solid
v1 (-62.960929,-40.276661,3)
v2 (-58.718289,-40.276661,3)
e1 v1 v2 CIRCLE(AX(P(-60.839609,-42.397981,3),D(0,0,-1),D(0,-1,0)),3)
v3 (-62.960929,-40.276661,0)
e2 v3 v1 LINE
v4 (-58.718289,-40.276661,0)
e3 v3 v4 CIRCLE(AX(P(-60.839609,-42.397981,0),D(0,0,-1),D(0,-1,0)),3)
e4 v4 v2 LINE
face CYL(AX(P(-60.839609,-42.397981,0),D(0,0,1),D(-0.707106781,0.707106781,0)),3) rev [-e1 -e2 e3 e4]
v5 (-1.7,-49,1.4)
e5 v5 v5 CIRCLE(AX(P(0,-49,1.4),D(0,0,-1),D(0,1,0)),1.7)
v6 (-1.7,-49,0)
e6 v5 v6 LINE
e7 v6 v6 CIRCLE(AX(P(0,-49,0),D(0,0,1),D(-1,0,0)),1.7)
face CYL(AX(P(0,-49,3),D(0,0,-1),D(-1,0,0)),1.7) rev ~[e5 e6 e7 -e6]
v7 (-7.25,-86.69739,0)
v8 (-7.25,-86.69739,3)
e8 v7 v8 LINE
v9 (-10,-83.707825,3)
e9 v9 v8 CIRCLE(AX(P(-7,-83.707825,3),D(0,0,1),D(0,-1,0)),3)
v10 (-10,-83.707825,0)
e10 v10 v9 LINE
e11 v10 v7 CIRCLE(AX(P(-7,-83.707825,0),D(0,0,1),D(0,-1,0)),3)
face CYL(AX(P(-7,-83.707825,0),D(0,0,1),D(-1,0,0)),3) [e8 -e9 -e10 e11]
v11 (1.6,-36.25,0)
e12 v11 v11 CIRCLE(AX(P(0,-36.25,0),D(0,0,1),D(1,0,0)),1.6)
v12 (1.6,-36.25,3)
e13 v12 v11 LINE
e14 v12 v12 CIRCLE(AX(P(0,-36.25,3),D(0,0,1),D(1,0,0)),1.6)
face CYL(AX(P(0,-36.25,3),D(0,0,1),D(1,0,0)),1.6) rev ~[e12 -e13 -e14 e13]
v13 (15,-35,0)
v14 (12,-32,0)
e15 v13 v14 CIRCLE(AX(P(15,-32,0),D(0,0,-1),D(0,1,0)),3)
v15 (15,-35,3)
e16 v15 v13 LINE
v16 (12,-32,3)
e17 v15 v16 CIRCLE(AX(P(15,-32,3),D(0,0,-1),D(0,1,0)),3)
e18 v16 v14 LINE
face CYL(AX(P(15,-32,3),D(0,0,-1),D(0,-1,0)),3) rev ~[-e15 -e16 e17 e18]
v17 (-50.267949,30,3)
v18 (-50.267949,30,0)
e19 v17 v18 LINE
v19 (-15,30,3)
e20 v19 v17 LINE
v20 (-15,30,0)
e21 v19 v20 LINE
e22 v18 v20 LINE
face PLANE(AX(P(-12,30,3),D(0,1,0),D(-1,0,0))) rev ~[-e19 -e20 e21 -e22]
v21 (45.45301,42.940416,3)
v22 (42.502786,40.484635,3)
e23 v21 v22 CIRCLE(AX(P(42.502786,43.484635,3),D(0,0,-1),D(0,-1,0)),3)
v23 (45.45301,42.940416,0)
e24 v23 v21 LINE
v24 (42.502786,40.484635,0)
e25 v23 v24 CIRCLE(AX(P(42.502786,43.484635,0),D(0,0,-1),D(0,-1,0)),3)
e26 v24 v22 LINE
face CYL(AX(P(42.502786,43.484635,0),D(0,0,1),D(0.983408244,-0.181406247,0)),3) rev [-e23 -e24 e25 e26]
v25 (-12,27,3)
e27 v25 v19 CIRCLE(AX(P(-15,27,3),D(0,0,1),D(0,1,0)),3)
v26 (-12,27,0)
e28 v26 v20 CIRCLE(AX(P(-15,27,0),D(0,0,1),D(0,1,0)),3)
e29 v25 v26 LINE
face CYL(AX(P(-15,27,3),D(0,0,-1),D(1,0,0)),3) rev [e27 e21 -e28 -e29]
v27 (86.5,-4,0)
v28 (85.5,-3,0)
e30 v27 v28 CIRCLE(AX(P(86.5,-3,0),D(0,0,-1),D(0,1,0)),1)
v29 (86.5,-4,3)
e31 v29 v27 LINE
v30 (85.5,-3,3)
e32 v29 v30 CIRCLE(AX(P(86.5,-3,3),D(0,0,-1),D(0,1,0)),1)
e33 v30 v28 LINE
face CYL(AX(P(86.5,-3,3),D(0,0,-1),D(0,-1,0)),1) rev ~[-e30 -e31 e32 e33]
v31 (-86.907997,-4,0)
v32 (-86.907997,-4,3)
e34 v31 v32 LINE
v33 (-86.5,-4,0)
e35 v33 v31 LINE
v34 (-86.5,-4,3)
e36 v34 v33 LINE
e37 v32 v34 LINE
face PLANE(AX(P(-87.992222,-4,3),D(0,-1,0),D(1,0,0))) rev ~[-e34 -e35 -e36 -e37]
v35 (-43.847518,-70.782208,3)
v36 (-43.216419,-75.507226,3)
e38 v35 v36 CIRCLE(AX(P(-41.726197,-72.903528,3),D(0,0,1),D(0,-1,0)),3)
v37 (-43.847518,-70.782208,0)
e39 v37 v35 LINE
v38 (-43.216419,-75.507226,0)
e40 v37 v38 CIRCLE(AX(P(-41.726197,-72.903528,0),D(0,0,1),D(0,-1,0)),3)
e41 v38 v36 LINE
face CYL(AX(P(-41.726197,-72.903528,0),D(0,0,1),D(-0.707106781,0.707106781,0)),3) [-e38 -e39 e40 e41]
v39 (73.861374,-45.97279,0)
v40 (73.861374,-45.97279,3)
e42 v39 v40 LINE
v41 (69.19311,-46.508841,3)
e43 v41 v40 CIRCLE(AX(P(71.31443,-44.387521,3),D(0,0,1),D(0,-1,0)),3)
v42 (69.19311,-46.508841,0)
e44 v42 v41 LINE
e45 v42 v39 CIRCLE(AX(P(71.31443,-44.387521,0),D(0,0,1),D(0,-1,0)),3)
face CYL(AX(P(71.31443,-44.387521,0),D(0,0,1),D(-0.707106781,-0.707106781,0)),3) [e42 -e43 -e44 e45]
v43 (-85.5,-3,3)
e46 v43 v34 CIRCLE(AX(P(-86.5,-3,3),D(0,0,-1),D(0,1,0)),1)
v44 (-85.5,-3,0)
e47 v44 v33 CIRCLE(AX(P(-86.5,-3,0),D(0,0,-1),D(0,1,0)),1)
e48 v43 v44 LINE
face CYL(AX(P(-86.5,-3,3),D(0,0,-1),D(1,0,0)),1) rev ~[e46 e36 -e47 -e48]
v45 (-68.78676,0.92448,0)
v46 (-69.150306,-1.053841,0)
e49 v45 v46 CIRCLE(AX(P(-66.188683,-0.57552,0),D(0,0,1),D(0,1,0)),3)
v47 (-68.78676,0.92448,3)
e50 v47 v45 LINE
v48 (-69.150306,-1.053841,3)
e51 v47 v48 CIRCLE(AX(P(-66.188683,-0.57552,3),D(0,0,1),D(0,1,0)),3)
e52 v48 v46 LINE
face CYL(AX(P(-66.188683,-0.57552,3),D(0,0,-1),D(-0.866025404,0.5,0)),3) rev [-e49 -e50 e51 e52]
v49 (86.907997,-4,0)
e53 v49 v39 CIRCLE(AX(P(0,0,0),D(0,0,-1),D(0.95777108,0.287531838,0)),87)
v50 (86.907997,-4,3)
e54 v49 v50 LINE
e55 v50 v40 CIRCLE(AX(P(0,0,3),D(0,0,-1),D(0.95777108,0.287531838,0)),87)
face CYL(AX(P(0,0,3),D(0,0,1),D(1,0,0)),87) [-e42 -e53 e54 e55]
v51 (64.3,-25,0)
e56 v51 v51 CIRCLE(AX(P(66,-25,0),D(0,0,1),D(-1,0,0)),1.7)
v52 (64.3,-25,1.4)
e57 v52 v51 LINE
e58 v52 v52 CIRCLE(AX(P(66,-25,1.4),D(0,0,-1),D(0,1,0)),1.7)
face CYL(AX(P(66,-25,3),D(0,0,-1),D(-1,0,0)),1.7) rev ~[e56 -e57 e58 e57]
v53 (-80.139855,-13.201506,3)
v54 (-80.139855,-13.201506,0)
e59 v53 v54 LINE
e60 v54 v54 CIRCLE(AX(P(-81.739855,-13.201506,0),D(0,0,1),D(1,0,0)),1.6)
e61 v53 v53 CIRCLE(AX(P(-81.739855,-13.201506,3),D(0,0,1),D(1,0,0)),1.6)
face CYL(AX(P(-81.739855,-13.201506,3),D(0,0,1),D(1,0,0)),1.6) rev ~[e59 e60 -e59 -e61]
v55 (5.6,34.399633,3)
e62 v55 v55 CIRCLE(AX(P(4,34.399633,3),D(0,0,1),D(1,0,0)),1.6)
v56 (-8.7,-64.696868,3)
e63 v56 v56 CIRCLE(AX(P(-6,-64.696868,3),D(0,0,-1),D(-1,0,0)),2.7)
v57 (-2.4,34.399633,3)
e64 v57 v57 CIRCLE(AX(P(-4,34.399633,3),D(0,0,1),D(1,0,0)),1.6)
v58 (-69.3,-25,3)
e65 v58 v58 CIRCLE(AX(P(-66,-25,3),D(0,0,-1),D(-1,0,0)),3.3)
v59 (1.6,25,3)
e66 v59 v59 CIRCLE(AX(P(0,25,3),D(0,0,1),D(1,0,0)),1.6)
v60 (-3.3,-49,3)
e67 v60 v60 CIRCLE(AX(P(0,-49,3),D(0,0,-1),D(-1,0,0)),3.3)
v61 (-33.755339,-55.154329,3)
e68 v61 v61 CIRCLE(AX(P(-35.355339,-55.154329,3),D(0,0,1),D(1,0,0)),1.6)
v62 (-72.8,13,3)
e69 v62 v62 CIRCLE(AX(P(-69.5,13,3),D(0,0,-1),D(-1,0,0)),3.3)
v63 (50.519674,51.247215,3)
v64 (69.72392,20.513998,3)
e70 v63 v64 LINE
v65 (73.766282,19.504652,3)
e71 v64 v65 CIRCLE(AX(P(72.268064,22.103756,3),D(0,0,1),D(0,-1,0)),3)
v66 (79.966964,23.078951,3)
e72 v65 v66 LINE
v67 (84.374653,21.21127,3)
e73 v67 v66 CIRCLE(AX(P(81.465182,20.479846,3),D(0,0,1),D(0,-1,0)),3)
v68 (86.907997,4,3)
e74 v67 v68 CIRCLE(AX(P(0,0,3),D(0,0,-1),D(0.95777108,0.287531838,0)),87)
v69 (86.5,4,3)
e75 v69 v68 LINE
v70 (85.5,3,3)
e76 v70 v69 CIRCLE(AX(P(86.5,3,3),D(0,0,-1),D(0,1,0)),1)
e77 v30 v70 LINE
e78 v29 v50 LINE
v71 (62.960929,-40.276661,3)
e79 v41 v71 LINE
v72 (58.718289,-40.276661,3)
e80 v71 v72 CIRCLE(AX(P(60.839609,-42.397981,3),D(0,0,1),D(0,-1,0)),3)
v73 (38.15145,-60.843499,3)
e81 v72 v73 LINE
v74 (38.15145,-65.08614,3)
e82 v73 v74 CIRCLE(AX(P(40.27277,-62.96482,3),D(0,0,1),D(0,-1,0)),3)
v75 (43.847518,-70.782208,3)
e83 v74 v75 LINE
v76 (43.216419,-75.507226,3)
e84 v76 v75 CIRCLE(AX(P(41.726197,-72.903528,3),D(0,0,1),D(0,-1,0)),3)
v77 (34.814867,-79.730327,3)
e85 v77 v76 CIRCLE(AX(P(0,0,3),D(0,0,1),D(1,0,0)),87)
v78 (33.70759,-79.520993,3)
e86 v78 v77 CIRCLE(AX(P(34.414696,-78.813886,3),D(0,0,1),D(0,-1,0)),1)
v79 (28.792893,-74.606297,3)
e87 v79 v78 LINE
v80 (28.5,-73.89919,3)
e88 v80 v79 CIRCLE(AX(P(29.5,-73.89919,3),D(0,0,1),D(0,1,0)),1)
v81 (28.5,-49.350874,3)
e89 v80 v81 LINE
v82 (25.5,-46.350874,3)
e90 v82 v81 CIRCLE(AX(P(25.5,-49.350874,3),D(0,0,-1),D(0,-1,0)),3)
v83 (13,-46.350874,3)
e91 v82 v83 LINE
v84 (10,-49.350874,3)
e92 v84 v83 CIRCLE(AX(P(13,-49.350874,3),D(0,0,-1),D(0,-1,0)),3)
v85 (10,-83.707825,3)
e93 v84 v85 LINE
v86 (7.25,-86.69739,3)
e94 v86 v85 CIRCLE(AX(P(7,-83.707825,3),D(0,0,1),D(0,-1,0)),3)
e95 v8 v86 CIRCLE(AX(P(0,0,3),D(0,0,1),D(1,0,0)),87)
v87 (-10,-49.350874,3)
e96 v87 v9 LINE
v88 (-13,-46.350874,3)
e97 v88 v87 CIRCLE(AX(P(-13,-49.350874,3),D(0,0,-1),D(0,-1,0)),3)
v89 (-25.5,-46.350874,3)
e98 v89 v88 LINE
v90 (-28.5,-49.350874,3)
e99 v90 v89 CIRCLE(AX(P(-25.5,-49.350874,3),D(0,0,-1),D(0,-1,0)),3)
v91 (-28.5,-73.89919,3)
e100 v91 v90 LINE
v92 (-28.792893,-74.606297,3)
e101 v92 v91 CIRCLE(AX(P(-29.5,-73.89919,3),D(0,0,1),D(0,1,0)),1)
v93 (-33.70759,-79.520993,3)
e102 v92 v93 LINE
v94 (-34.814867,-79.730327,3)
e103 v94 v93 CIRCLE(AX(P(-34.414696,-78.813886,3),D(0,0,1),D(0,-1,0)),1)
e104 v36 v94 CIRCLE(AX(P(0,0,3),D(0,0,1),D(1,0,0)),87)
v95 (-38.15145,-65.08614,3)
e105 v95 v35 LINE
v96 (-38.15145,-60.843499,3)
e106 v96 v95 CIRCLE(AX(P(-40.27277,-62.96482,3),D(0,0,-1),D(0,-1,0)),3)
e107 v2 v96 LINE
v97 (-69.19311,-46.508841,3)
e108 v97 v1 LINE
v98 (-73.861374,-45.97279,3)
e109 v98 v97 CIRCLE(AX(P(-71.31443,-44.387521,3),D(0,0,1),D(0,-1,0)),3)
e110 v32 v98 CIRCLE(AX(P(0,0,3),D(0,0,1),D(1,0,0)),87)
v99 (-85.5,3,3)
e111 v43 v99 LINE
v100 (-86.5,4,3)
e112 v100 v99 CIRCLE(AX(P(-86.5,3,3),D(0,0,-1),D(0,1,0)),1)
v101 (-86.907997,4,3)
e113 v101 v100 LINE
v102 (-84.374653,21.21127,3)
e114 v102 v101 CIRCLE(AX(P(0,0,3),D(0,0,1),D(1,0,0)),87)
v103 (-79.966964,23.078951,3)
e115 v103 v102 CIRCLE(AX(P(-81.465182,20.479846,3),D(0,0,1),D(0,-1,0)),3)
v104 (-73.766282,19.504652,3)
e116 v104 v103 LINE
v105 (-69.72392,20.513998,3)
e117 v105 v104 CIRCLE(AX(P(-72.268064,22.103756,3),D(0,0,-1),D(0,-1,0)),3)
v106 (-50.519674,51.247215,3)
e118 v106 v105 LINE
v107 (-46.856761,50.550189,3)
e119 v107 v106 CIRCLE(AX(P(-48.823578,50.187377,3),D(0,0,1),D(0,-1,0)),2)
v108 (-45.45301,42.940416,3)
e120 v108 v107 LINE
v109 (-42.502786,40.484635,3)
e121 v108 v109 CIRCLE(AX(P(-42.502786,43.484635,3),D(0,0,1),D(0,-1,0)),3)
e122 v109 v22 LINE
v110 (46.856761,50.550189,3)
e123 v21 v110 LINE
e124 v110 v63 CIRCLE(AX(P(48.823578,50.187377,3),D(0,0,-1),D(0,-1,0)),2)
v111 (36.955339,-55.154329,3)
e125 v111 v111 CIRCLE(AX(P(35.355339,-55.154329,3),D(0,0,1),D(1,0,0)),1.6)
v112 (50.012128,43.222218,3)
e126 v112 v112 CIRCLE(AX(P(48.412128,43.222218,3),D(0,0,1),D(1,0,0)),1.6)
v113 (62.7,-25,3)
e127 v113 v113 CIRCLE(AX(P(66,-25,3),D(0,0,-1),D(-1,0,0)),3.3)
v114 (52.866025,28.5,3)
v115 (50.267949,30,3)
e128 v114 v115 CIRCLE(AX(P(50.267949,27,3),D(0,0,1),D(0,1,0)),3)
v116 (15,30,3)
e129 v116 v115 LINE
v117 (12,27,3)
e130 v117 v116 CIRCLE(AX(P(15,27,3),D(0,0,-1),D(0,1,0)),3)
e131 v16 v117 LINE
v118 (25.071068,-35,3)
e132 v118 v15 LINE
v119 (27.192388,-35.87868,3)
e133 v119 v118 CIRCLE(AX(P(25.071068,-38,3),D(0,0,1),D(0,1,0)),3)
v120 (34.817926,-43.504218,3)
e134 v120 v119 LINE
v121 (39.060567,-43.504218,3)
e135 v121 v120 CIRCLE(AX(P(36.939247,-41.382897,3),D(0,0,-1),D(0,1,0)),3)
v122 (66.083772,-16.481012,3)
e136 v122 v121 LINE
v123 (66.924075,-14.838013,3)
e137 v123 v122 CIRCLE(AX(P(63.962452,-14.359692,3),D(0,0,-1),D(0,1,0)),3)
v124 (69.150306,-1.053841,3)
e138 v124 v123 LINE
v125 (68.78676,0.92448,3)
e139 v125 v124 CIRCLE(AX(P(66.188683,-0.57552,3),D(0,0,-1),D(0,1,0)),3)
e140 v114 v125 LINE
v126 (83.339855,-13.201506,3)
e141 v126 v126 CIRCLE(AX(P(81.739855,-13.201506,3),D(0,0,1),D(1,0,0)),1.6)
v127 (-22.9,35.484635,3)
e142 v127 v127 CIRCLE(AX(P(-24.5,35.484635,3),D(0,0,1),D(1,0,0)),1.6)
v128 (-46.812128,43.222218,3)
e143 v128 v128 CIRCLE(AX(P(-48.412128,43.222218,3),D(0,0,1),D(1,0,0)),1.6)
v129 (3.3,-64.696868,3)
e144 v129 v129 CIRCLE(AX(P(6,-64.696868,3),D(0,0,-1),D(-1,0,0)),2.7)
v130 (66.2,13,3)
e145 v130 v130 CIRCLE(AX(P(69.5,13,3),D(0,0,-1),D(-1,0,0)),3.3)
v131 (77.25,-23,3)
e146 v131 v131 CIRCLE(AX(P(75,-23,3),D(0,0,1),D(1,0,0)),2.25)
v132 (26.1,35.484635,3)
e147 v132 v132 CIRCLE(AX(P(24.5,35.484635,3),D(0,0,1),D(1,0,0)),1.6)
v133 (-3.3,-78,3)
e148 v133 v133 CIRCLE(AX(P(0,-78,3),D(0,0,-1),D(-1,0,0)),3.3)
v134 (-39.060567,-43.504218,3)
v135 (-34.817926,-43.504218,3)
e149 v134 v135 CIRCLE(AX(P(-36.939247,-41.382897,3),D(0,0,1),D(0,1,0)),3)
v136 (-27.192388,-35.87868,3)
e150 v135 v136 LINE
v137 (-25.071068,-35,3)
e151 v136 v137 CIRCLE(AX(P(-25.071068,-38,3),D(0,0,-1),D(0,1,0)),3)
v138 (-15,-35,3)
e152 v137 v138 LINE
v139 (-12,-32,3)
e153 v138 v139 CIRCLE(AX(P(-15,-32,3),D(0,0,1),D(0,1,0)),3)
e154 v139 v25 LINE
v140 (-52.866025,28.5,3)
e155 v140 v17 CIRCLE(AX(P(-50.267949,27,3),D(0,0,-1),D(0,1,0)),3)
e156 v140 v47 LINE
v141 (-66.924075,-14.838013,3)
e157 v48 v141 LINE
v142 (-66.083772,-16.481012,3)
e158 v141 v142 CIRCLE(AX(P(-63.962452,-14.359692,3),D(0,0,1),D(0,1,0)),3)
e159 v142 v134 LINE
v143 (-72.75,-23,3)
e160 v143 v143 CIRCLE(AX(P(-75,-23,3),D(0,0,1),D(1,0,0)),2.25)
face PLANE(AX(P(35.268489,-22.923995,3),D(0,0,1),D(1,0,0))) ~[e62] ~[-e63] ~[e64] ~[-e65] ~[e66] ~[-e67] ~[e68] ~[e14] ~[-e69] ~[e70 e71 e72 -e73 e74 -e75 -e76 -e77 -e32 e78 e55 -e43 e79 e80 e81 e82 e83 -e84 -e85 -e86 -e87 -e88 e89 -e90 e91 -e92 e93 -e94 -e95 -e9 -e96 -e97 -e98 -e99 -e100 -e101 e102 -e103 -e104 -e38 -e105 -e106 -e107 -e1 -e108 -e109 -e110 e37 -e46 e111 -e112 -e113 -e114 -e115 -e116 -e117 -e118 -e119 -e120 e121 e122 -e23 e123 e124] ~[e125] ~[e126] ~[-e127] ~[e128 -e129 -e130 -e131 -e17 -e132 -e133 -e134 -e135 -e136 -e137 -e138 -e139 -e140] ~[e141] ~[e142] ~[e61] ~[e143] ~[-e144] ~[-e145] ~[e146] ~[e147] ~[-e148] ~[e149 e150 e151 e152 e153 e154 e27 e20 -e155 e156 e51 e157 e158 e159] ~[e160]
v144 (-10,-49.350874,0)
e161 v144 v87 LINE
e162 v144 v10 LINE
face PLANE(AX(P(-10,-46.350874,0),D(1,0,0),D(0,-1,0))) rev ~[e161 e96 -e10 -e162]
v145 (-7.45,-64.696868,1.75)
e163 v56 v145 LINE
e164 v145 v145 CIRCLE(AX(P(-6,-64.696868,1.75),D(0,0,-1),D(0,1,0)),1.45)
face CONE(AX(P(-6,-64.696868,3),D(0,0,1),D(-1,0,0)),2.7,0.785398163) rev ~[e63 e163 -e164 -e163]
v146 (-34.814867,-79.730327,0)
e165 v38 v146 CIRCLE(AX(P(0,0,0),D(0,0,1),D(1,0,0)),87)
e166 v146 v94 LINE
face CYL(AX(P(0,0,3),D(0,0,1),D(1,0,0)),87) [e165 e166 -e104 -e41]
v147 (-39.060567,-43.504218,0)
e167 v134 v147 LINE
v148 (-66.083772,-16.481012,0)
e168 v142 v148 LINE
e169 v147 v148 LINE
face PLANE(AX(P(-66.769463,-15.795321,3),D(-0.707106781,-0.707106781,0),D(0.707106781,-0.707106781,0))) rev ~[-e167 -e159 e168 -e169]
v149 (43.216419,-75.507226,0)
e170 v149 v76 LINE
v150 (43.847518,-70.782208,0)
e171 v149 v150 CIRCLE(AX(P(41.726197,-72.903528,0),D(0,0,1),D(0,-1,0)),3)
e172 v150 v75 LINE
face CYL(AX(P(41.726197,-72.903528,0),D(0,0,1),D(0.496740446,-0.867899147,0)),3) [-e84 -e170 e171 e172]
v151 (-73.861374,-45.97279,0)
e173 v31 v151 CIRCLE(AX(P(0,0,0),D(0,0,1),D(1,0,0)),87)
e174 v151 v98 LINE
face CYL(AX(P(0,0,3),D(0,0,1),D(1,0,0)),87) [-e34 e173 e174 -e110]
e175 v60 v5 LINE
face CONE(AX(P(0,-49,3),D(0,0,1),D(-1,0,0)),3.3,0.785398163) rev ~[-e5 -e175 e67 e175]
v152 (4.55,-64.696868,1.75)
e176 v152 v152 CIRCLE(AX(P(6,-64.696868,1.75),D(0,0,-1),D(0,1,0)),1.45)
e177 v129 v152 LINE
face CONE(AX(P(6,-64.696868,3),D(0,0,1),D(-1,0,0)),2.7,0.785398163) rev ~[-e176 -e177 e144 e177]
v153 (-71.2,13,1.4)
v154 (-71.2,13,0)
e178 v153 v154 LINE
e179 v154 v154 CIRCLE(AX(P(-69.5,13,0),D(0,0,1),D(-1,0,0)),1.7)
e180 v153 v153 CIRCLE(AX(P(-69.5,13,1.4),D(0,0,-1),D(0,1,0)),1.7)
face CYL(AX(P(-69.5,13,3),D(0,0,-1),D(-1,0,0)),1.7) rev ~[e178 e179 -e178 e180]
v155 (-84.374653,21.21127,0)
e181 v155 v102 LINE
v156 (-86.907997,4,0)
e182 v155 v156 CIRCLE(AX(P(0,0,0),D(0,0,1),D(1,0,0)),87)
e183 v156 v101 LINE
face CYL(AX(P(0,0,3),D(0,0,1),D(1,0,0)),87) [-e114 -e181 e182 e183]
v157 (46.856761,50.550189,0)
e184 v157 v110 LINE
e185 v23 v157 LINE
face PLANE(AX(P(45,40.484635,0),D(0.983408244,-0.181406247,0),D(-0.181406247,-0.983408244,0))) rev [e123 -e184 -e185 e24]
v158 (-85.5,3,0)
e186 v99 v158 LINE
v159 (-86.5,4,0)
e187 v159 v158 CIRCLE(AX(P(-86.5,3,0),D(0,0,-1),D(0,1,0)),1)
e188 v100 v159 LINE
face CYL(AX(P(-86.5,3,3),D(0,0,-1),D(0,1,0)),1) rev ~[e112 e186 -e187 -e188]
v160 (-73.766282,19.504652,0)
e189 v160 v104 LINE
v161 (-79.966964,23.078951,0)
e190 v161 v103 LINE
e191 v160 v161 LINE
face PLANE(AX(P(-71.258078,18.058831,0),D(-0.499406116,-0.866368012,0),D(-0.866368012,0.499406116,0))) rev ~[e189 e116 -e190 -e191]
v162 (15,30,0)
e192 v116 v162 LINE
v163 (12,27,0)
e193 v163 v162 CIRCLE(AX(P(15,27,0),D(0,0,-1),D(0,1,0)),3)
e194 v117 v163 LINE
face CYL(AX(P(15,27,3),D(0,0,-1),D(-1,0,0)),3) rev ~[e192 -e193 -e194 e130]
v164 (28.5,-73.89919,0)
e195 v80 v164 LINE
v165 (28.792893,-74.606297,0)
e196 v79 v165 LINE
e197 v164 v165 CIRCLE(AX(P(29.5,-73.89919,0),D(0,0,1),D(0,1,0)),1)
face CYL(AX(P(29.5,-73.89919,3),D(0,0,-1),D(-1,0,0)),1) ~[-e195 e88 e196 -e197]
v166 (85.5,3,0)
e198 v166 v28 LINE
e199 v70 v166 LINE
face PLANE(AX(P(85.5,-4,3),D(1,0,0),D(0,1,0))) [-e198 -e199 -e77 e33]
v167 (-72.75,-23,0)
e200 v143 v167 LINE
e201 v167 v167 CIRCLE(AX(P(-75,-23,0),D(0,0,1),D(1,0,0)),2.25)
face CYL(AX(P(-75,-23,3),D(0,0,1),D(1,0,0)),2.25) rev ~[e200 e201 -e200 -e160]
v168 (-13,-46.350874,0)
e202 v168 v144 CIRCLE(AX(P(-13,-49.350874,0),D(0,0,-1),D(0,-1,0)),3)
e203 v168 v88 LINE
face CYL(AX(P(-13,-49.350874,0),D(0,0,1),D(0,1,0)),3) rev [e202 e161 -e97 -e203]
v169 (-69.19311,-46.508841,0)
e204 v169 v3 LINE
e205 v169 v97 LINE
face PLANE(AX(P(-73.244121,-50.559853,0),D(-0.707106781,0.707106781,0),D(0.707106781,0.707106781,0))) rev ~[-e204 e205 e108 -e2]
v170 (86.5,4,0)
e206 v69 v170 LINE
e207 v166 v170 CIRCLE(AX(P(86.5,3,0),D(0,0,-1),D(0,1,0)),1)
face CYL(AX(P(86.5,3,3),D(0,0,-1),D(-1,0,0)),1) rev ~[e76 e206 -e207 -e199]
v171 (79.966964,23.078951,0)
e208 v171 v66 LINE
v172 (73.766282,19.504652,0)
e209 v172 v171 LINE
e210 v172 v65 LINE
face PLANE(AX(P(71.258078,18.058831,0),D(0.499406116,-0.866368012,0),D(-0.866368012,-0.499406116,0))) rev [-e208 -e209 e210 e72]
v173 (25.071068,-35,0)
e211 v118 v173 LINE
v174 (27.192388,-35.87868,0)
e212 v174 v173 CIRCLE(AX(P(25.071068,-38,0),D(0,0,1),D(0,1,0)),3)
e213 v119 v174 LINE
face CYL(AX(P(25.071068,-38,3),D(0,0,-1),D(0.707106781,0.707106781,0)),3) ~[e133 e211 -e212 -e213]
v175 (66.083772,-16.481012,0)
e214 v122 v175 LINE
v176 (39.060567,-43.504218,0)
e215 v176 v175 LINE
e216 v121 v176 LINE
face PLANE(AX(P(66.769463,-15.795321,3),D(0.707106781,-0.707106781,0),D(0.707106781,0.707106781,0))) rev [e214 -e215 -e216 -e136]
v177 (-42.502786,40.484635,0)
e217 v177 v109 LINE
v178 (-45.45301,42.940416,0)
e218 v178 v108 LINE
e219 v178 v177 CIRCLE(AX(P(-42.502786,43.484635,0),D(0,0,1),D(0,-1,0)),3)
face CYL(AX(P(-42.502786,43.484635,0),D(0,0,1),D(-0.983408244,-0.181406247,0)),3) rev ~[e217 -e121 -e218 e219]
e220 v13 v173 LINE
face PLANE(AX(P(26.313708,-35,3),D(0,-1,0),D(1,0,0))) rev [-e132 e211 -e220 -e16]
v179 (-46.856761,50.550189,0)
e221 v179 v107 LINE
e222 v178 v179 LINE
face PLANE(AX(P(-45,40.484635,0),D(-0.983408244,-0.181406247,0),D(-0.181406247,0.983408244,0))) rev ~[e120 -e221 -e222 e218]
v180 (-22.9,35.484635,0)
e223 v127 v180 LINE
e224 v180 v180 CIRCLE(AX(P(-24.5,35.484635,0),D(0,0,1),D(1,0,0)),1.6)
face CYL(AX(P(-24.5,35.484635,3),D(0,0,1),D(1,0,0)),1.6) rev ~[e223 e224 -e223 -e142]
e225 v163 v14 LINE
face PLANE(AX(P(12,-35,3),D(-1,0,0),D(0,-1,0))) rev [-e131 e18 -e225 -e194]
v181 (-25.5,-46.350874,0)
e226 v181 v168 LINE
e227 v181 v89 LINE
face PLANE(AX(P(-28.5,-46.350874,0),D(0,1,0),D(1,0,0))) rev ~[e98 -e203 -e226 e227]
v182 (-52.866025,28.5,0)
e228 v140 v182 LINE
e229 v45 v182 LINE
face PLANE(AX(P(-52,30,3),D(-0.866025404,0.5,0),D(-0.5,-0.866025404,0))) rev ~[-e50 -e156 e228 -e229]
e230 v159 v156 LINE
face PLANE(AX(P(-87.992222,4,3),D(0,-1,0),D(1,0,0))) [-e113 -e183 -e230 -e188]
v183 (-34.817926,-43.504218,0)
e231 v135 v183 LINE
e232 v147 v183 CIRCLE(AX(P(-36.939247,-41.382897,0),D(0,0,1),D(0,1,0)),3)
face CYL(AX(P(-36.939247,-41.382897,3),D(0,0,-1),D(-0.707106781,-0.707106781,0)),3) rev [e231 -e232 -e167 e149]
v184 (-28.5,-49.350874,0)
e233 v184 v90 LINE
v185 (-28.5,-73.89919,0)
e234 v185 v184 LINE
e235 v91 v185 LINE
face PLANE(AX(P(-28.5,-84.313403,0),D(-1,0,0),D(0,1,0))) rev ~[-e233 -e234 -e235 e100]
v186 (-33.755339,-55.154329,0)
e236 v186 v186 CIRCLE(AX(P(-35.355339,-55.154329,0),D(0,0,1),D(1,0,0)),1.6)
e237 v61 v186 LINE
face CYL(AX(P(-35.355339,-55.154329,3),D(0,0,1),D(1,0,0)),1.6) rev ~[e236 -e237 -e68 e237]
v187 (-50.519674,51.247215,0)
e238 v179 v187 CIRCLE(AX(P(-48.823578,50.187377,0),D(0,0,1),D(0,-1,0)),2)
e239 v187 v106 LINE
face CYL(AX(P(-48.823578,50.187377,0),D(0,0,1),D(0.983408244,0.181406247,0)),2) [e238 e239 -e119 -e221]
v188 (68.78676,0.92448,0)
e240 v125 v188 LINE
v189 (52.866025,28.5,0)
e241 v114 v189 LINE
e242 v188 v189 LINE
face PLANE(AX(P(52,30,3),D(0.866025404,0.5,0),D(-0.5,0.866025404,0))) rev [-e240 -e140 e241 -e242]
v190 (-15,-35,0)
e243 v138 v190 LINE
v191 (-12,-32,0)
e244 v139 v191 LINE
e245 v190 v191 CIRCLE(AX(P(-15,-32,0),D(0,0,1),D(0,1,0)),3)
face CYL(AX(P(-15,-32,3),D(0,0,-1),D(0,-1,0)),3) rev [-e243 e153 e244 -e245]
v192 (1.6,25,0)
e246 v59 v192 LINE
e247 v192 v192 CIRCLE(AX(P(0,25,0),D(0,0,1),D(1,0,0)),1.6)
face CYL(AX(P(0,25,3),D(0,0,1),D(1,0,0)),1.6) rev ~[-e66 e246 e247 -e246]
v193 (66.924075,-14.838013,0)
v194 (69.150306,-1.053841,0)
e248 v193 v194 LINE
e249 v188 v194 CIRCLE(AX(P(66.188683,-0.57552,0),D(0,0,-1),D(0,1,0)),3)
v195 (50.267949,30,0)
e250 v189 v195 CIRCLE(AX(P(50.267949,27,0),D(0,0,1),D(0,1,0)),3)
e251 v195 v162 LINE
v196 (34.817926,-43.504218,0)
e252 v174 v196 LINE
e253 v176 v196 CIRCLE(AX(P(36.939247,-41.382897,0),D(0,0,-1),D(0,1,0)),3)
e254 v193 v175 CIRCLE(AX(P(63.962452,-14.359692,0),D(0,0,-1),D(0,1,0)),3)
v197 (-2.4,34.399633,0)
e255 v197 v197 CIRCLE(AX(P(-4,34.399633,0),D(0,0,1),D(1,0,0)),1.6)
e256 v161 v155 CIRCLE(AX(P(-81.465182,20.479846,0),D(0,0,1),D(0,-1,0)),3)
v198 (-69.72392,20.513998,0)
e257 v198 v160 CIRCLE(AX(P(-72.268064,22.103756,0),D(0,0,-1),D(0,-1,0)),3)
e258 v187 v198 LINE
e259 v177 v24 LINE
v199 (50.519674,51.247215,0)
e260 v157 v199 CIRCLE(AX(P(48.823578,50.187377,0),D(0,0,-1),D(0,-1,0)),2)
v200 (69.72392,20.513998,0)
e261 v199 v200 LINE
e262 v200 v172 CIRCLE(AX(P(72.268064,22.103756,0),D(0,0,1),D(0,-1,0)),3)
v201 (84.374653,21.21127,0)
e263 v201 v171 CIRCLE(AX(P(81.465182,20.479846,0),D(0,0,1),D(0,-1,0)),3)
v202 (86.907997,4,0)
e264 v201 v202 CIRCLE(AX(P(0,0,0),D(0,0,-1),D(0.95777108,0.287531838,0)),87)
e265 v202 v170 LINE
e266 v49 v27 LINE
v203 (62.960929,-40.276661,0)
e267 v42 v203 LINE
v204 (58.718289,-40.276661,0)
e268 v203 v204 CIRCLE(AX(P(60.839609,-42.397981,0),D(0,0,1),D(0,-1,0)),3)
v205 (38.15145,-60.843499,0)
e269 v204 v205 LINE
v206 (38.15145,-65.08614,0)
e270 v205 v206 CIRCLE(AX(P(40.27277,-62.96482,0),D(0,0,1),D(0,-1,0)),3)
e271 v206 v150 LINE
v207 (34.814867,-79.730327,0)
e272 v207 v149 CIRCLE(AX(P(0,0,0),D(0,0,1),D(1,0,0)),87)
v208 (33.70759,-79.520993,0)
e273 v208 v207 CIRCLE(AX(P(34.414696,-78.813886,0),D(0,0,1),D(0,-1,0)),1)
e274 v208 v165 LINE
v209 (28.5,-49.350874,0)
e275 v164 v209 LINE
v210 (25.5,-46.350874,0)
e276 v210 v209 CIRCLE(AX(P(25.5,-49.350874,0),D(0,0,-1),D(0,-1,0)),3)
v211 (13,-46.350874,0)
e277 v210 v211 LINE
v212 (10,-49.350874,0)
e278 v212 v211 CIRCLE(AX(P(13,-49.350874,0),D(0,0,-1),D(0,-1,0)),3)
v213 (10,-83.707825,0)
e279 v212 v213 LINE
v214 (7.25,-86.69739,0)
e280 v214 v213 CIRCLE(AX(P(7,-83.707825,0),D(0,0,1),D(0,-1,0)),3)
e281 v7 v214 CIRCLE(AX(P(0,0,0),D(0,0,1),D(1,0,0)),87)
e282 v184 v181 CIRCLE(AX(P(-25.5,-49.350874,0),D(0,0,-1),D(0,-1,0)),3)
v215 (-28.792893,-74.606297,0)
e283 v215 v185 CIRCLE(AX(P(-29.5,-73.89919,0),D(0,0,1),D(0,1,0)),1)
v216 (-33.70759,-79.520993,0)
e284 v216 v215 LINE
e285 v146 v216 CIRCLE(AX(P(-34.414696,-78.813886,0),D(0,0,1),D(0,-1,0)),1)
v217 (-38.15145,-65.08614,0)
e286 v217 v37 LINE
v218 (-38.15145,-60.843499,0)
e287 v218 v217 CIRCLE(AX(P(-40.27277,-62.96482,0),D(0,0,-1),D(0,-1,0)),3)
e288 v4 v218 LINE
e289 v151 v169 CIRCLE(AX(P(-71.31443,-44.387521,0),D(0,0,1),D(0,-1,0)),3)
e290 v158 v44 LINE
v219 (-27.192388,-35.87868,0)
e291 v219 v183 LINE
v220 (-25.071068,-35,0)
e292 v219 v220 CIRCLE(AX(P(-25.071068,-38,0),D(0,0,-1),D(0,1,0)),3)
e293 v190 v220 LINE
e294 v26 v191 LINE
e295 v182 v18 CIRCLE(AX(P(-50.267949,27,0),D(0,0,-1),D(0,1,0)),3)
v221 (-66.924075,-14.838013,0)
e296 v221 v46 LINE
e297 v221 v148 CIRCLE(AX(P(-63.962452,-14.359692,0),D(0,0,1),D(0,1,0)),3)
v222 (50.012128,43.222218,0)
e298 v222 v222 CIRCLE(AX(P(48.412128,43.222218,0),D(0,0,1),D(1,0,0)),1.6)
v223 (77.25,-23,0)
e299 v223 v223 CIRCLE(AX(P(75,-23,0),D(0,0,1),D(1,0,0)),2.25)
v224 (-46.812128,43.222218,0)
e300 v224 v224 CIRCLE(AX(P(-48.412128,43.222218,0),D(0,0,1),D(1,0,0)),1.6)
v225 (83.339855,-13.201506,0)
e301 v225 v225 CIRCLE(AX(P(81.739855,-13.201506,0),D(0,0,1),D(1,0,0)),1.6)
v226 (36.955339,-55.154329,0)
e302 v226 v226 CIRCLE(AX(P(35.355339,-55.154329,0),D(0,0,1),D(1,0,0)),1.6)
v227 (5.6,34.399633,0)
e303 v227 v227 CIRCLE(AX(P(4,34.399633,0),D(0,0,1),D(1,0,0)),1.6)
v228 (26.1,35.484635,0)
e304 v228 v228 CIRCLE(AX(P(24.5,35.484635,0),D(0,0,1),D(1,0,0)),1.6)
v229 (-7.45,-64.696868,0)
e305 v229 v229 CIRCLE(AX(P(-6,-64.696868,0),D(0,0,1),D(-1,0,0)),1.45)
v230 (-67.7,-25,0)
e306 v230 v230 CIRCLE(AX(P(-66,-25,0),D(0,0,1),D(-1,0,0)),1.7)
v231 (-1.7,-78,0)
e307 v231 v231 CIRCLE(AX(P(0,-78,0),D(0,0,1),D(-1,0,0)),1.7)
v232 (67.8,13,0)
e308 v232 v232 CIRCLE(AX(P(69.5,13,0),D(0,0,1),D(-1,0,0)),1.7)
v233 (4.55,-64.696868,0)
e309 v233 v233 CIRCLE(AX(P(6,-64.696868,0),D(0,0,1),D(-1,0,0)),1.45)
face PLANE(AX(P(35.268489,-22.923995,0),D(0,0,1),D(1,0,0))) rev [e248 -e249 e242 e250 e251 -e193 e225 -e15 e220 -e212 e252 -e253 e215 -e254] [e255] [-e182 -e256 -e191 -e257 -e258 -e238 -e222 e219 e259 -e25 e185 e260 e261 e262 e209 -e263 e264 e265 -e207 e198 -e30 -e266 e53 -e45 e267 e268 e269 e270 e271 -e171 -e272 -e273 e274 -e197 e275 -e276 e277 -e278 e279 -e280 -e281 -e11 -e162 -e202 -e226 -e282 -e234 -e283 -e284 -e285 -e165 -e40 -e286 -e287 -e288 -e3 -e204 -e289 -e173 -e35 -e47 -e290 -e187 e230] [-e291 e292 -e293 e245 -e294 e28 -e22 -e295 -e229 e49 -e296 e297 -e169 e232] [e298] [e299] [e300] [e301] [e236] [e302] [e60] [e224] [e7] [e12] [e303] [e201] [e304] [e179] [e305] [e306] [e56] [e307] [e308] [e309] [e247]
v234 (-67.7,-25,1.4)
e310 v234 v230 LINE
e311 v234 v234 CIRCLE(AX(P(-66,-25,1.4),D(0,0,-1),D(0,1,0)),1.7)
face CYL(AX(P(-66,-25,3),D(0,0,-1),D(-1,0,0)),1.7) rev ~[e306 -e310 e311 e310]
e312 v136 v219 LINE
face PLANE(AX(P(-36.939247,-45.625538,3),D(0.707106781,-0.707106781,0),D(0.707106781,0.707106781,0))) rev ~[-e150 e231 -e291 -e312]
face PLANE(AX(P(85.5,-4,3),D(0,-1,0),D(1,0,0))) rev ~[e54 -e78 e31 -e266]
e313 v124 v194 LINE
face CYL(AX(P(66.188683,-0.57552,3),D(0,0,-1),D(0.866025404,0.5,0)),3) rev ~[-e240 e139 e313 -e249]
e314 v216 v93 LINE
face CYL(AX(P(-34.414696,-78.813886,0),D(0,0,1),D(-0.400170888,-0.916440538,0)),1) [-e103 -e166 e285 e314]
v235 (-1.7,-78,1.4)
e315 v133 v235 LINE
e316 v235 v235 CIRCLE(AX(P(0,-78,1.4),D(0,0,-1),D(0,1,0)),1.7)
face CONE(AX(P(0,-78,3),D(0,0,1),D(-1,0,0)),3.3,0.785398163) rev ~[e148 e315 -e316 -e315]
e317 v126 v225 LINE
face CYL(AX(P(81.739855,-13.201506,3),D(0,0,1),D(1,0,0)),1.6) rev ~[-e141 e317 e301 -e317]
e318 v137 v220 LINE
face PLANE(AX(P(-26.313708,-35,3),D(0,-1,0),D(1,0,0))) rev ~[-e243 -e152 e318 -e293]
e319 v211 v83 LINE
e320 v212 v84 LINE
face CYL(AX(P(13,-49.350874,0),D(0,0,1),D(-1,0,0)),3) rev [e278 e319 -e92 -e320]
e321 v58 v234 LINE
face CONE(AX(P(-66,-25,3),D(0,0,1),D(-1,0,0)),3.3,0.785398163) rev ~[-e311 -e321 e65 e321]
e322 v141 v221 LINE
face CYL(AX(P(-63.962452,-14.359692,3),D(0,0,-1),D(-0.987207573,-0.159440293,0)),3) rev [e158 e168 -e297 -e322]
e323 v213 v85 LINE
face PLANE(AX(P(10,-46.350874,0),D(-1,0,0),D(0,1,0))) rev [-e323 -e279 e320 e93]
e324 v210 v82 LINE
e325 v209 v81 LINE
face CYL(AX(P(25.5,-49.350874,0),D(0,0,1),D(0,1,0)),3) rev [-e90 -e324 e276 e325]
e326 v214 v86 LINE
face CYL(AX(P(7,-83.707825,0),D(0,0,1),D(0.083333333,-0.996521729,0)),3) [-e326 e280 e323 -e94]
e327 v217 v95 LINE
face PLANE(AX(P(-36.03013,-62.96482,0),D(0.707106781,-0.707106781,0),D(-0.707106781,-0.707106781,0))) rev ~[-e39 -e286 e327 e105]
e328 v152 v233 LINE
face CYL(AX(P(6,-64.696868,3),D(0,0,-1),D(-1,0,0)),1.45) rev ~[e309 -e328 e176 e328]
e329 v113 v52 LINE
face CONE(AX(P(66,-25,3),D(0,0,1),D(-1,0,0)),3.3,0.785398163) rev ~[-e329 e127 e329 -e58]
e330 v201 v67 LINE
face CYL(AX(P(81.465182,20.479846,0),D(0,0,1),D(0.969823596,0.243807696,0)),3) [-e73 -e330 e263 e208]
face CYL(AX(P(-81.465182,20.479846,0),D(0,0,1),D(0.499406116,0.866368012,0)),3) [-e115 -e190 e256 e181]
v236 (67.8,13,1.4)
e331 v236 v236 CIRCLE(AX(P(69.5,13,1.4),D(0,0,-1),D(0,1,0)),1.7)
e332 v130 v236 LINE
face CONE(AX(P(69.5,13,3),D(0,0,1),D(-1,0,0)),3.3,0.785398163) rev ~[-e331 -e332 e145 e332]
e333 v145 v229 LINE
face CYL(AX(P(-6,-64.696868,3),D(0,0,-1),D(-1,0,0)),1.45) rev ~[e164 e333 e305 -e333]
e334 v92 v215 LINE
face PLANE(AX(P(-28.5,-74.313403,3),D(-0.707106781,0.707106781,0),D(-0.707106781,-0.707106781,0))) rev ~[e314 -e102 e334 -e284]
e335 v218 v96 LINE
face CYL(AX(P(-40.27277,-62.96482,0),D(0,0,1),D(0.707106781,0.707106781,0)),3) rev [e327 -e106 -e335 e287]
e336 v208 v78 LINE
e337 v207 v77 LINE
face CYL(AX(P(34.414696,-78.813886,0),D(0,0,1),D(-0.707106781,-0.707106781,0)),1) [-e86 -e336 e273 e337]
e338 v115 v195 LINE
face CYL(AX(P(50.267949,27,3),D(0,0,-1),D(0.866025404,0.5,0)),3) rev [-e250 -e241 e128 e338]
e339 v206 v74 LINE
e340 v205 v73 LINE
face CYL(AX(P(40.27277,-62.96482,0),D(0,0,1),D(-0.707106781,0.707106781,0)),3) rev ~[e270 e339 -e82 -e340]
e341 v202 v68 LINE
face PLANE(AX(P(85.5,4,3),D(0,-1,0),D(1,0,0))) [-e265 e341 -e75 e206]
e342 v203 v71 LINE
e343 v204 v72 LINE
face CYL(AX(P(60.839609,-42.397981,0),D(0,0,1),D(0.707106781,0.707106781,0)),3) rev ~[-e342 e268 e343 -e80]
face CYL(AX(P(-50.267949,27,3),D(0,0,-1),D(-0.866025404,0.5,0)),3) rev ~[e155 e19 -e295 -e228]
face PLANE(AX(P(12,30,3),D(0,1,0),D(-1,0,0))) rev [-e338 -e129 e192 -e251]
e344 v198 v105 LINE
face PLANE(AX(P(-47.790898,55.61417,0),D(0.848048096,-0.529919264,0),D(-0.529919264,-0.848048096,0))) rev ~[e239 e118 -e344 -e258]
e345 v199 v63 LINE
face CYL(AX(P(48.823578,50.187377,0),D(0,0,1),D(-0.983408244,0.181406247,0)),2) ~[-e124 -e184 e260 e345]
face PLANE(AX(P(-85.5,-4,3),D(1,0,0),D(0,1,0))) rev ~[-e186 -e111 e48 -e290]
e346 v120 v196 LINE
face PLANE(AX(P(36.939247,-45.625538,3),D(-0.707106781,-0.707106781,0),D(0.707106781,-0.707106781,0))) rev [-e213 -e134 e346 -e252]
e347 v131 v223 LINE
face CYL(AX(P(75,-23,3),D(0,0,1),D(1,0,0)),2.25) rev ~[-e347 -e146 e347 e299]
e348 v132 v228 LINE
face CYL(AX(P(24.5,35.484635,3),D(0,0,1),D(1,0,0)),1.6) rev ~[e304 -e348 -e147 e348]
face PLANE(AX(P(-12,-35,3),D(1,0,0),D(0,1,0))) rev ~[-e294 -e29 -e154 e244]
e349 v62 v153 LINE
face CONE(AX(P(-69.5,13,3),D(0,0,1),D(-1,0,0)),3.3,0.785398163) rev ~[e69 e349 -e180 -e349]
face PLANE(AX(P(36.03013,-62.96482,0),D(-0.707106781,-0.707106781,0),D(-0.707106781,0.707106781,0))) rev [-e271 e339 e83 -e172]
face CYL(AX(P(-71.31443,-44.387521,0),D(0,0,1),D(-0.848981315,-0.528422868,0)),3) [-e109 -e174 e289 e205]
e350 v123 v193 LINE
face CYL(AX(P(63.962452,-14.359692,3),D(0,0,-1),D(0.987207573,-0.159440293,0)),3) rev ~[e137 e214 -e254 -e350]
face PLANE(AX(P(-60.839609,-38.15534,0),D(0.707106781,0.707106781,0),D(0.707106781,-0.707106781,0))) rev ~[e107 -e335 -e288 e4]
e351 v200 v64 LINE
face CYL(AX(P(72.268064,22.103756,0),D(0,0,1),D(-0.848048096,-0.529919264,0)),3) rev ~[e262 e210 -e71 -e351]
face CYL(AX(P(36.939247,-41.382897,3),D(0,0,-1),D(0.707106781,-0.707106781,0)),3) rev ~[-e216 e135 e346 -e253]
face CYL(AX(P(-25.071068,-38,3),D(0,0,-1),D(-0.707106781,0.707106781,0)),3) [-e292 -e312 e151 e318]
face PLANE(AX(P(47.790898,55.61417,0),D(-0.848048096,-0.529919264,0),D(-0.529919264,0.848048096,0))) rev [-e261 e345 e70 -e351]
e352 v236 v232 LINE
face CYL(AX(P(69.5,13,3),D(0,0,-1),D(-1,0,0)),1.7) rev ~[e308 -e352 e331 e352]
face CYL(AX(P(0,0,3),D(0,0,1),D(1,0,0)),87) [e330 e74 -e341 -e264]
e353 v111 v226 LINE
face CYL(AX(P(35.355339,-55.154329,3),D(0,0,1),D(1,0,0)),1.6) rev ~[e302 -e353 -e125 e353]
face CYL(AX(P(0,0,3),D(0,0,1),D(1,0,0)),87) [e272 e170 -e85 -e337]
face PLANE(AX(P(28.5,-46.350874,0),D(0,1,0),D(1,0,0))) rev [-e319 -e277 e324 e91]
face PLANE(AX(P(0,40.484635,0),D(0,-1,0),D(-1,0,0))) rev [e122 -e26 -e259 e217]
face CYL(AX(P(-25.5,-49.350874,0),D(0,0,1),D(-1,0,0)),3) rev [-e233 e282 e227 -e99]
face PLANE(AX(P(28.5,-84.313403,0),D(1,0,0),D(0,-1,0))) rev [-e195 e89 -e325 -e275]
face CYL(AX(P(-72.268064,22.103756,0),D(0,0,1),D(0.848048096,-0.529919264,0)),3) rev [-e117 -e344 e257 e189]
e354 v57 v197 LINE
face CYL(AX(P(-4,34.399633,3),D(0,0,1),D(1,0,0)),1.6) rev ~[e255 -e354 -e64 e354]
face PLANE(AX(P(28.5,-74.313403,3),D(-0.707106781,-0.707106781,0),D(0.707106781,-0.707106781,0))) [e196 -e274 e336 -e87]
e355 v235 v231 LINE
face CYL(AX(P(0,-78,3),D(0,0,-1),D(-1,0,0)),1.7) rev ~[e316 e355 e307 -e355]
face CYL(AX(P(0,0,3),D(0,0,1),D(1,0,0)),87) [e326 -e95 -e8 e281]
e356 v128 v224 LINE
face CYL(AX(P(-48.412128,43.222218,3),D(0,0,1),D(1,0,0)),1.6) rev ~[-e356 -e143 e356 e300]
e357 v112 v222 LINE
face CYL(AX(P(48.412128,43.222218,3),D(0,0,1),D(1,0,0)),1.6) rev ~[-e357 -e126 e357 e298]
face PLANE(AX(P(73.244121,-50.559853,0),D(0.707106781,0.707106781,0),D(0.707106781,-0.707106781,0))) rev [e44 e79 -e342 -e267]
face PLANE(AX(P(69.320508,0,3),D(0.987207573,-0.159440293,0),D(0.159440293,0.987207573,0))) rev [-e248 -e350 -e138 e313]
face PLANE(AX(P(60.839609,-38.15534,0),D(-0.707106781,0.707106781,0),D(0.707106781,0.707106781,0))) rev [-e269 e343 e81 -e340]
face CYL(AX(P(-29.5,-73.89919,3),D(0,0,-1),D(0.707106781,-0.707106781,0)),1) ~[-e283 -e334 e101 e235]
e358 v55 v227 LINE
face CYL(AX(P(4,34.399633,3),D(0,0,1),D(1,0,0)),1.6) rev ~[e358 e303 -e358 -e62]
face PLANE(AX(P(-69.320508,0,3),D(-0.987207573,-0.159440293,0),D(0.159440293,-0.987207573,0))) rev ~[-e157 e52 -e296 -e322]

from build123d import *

# Parameters (mm, degrees)
EXTRUDE_1_DEPTH           = 3
CUT_EXTRUDE_1_REACH       = 127.841
FILLET_1_R                = 3
FILLET_3_R                = 3
CUT_EXTRUDE_2_REACH       = 127.841
SKETCH_3_R                = 1.6
FILLET_4_R                = 2
CUT_EXTRUDE_4_REACH       = 127.841
SKETCH_5_R                = 1.6
CUT_EXTRUDE_5_REACH       = 127.841
SKETCH_6_R                = 2.25
HOLE_WIZARD_1_D           = 3.4
HOLE_WIZARD_1_DEPTH       = 3
HOLE_WIZARD_1_CSINK_D     = 6.6
HOLE_WIZARD_1_CSINK_ANGLE = 90
HOLE_WIZARD_1_TIP         = 1.021463052
CUT_EXTRUDE_6_REACH       = 127.841
SKETCH_9_R                = 1.6
SKETCH_10_R               = 107.153913746
SKETCH_10_R_2             = 87
CUT_EXTRUDE_7_DEPTH       = 10
FILLET_5_R                = 3
SKETCH_12_W               = 2.492222484
SKETCH_12_H               = 8
CUT_EXTRUDE_8_DEPTH       = 10
FILLET_6_R                = 1
FILLET_7_R                = 3
HOLE_WIZARD_2_D           = 3.4
HOLE_WIZARD_2_DEPTH       = 3
HOLE_WIZARD_2_CSINK_D     = 6.6
HOLE_WIZARD_2_CSINK_ANGLE = 90
HOLE_WIZARD_2_TIP         = 1.021463052
HOLE_WIZARD_3_D           = 2.9
HOLE_WIZARD_3_DEPTH       = 3
HOLE_WIZARD_3_CSINK_D     = 5.4
HOLE_WIZARD_3_CSINK_ANGLE = 90
HOLE_WIZARD_3_TIP         = 0.871247898
CUT_EXTRUDE_10_DEPTH      = 10
FILLET_8_R                = 1
SKETCH1_R                 = 1.6
EXTRUDE1_DEPTH            = 10


with BuildPart() as part:
    # 草图1 → 凸台-拉伸1 (new body)
    with BuildSketch(Plane.XY):
        with BuildLine():
            Line((-45, 40.484634583), (-47.790898075, 55.614169672))
            Line((-47.790898075, 55.614169672), (-71.258078067, 18.058831232))
            Line((-71.258078067, 18.058831232), (-85.105103955, 26.040761909))
            ThreePointArc((-85.105103955, 26.040761909), (-87.951877875, -13.618633494), (-73.244121351, -50.559852526))
            Line((-73.244121351, -50.559852526), (-60.839609095, -38.155340271))
            Line((-60.839609095, -38.155340271), (-36.030129611, -62.964819755))
            Line((-36.030129611, -62.964819755), (-48.007288857, -74.941979001))
            ThreePointArc((-48.007288857, -74.941979001), (-38.539553852, -80.222832092), (-28.5, -84.313403442))
            Line((-28.5, -84.313403442), (-28.5, -46.350874392))
            Line((-28.5, -46.350874392), (-10, -46.350874392))
            Line((-10, -46.350874392), (-10, -88.350874392))
            ThreePointArc((-10, -88.350874392), (-5.007949588, -88.773855648), (0, -88.914998767))
            Line((0, -88.914998767), (0, 40.484634583))
            Line((0, 40.484634583), (-45, 40.484634583))
        make_face()
    extrude(amount=EXTRUDE_1_DEPTH)

    # 草图2 → 切除-拉伸1 (cut, up to next)
    with BuildSketch(Plane.XY.offset(3), mode=Mode.PRIVATE) as cut_extrude_1_sk1:
        Polygon((-12, 0), (-12, 30), (-52, 30), (-69.320508076, 0), (-66.769463395, -15.795321176), (-36.939246535, -45.625538036), (-26.313708499, -35), (-12, -35), align=None)
    cut_extrude_1_tool1 = extrude(cut_extrude_1_sk1.sketch, amount=-CUT_EXTRUDE_1_REACH, mode=Mode.PRIVATE) & part.part
    add(cut_extrude_1_tool1.solids().sort_by_distance((-37.08097, -3.648282, 3))[0], mode=Mode.SUBTRACT)

    # 圆角1
    fillet_1_edges = [part.edges().sort_by_distance(p)[0] for p in [
        (-71.258078067, 18.058831232, 1.5),
        (-45, 40.484634583, 1.5),
        (-36.030129611, -62.964819755, 1.5),
        (-60.839609095, -38.155340271, 1.5),
    ]]
    fillet(fillet_1_edges, radius=FILLET_1_R)

    # 圆角3
    fillet_3_edges = [part.edges().sort_by_distance(p)[0] for p in [
        (-66.769463395, -15.795321176, 1.5),
        (-69.320508076, 0, 1.5),
        (-52, 30, 1.5),
        (-12, 30, 1.5),
        (-12, -35, 1.5),
        (-26.313708499, -35, 1.5),
        (-36.939246535, -45.625538036, 1.5),
    ]]
    fillet(fillet_3_edges, radius=FILLET_3_R)

    # 镜向2: part across plane


with BuildPart() as part_1:
    add(part.part)
    add(part.part.mirror(Plane(origin=(0, 40.484634583, 3), x_dir=(0, 0, 1), z_dir=(-1, 0, 0))))

    # 草图3 → 切除-拉伸2 (cut, up to next)
    with BuildSketch(Plane.XY.offset(3), mode=Mode.PRIVATE) as cut_extrude_2_sk1:
        with Locations((-81.739855024, -13.201505688)):
            Circle(SKETCH_3_R)
    cut_extrude_2_tool1 = extrude(cut_extrude_2_sk1.sketch, amount=-CUT_EXTRUDE_2_REACH, mode=Mode.PRIVATE) & part_1.part
    # 草图3 → 切除-拉伸2 (cut, up to next)
    with BuildSketch(Plane.XY.offset(3), mode=Mode.PRIVATE) as cut_extrude_2_sk2:
        with Locations((0, -36.25)):
            Circle(SKETCH_3_R)
    cut_extrude_2_tool2 = extrude(cut_extrude_2_sk2.sketch, amount=-CUT_EXTRUDE_2_REACH, mode=Mode.PRIVATE) & part_1.part
    # 草图3 → 切除-拉伸2 (cut, up to next)
    with BuildSketch(Plane.XY.offset(3), mode=Mode.PRIVATE) as cut_extrude_2_sk3:
        with Locations((0, 25)):
            Circle(SKETCH_3_R)
    cut_extrude_2_tool3 = extrude(cut_extrude_2_sk3.sketch, amount=-CUT_EXTRUDE_2_REACH, mode=Mode.PRIVATE) & part_1.part
    # 草图3 → 切除-拉伸2 (cut, up to next)
    with BuildSketch(Plane.XY.offset(3), mode=Mode.PRIVATE) as cut_extrude_2_sk4:
        with Locations((81.739855024, -13.201505688)):
            Circle(SKETCH_3_R)
    cut_extrude_2_tool4 = extrude(cut_extrude_2_sk4.sketch, amount=-CUT_EXTRUDE_2_REACH, mode=Mode.PRIVATE) & part_1.part
    add(cut_extrude_2_tool1.solids().sort_by_distance((-81.739855, -13.201506, 3))[0], mode=Mode.SUBTRACT)
    add(cut_extrude_2_tool2.solids().sort_by_distance((0, -36.25, 3))[0], mode=Mode.SUBTRACT)
    add(cut_extrude_2_tool3.solids().sort_by_distance((0, 25, 3))[0], mode=Mode.SUBTRACT)
    add(cut_extrude_2_tool4.solids().sort_by_distance((81.739855, -13.201506, 3))[0], mode=Mode.SUBTRACT)

    # 圆角4
    fillet_4_edges = [part_1.edges().sort_by_distance(p)[0] for p in [
        (47.790898075, 55.614169672, 1.5),
        (-47.790898075, 55.614169672, 1.5),
    ]]
    fillet(fillet_4_edges, radius=FILLET_4_R)

    # 草图5 → 切除-拉伸4 (cut, up to next)
    with BuildSketch(Plane.XY.offset(3), mode=Mode.PRIVATE) as cut_extrude_4_sk1:
        with Locations((-4, 34.39963335)):
            Circle(SKETCH_5_R)
    cut_extrude_4_tool1 = extrude(cut_extrude_4_sk1.sketch, amount=-CUT_EXTRUDE_4_REACH, mode=Mode.PRIVATE) & part_1.part
    # 草图5 → 切除-拉伸4 (cut, up to next)
    with BuildSketch(Plane.XY.offset(3), mode=Mode.PRIVATE) as cut_extrude_4_sk2:
        with Locations((4, 34.39963335)):
            Circle(SKETCH_5_R)
    cut_extrude_4_tool2 = extrude(cut_extrude_4_sk2.sketch, amount=-CUT_EXTRUDE_4_REACH, mode=Mode.PRIVATE) & part_1.part
    add(cut_extrude_4_tool1.solids().sort_by_distance((-4, 34.399633, 3))[0], mode=Mode.SUBTRACT)
    add(cut_extrude_4_tool2.solids().sort_by_distance((4, 34.399633, 3))[0], mode=Mode.SUBTRACT)

    # 草图6 → 切除-拉伸5 (cut, up to next)
    with BuildSketch(Plane.XY.offset(3), mode=Mode.PRIVATE) as cut_extrude_5_sk1:
        with Locations((-75, -23)):
            Circle(SKETCH_6_R)
    cut_extrude_5_tool1 = extrude(cut_extrude_5_sk1.sketch, amount=-CUT_EXTRUDE_5_REACH, mode=Mode.PRIVATE) & part_1.part
    # 草图6 → 切除-拉伸5 (cut, up to next)
    with BuildSketch(Plane.XY.offset(3), mode=Mode.PRIVATE) as cut_extrude_5_sk2:
        with Locations((75, -23)):
            Circle(SKETCH_6_R)
    cut_extrude_5_tool2 = extrude(cut_extrude_5_sk2.sketch, amount=-CUT_EXTRUDE_5_REACH, mode=Mode.PRIVATE) & part_1.part
    add(cut_extrude_5_tool1.solids().sort_by_distance((-75, -23, 3))[0], mode=Mode.SUBTRACT)
    add(cut_extrude_5_tool2.solids().sort_by_distance((75, -23, 3))[0], mode=Mode.SUBTRACT)

    # 打孔尺寸(%根据十字)槽沉头木螺钉的类型1
    with Locations(Plane(origin=(-69.5, 13, 3), x_dir=(1, 0, 0), z_dir=(0, 0, 1))):
        with Locations((0, 0), (3.5, -38), (139, 0), (135.5, -38)):
            CounterSinkHole(HOLE_WIZARD_1_D / 2, HOLE_WIZARD_1_CSINK_D / 2, depth=HOLE_WIZARD_1_DEPTH, counter_sink_angle=HOLE_WIZARD_1_CSINK_ANGLE)
            with Locations((0, 0, -(HOLE_WIZARD_1_DEPTH + HOLE_WIZARD_1_TIP / 2))):  # 118° drill point
                Cone(0, HOLE_WIZARD_1_D / 2, HOLE_WIZARD_1_TIP, mode=Mode.SUBTRACT)

    # 草图9 → 切除-拉伸6 (cut, up to next)
    with BuildSketch(Plane.XY.offset(3), mode=Mode.PRIVATE) as cut_extrude_6_sk1:
        with Locations((-48.412128424, 43.22221775)):
            Circle(SKETCH_9_R)
    cut_extrude_6_tool1 = extrude(cut_extrude_6_sk1.sketch, amount=-CUT_EXTRUDE_6_REACH, mode=Mode.PRIVATE) & part_1.part
    # 草图9 → 切除-拉伸6 (cut, up to next)
    with BuildSketch(Plane.XY.offset(3), mode=Mode.PRIVATE) as cut_extrude_6_sk2:
        with Locations((-35.355339059, -55.154328933)):
            Circle(SKETCH_9_R)
    cut_extrude_6_tool2 = extrude(cut_extrude_6_sk2.sketch, amount=-CUT_EXTRUDE_6_REACH, mode=Mode.PRIVATE) & part_1.part
    # 草图9 → 切除-拉伸6 (cut, up to next)
    with BuildSketch(Plane.XY.offset(3), mode=Mode.PRIVATE) as cut_extrude_6_sk3:
        with Locations((48.412128424, 43.22221775)):
            Circle(SKETCH_9_R)
    cut_extrude_6_tool3 = extrude(cut_extrude_6_sk3.sketch, amount=-CUT_EXTRUDE_6_REACH, mode=Mode.PRIVATE) & part_1.part
    # 草图9 → 切除-拉伸6 (cut, up to next)
    with BuildSketch(Plane.XY.offset(3), mode=Mode.PRIVATE) as cut_extrude_6_sk4:
        with Locations((35.355339059, -55.154328933)):
            Circle(SKETCH_9_R)
    cut_extrude_6_tool4 = extrude(cut_extrude_6_sk4.sketch, amount=-CUT_EXTRUDE_6_REACH, mode=Mode.PRIVATE) & part_1.part
    add(cut_extrude_6_tool1.solids().sort_by_distance((-48.412128, 43.222218, 3))[0], mode=Mode.SUBTRACT)
    add(cut_extrude_6_tool2.solids().sort_by_distance((-35.355339, -55.154329, 3))[0], mode=Mode.SUBTRACT)
    add(cut_extrude_6_tool3.solids().sort_by_distance((48.412128, 43.222218, 3))[0], mode=Mode.SUBTRACT)
    add(cut_extrude_6_tool4.solids().sort_by_distance((35.355339, -55.154329, 3))[0], mode=Mode.SUBTRACT)

    # 草图10 → 切除-拉伸7 (cut)
    with BuildSketch(Plane.XY.offset(3)):
        Circle(SKETCH_10_R)
        Circle(SKETCH_10_R_2, mode=Mode.SUBTRACT)
    extrude(amount=-CUT_EXTRUDE_7_DEPTH, mode=Mode.SUBTRACT)

    # 圆角5
    fillet_5_edges = [part_1.edges().sort_by_distance(p)[0] for p in [
        (83.326083977, 25.015269919, 1.5),
        (-71.80580935, -49.121540525, 1.5),
        (-46.558737732, -73.493427875, 1.5),
        (46.558737732, -73.493427875, 1.5),
        (71.80580935, -49.121540525, 1.5),
        (-83.326083977, 25.015269919, 1.5),
    ]]
    fillet(fillet_5_edges, radius=FILLET_5_R)

    # 草图12 → 切除-拉伸8 (cut)
    with BuildSketch(Plane.XY.offset(3)):
        with Locations((-86.746111242, 0)):
            Rectangle(SKETCH_12_W, SKETCH_12_H)
        with Locations((86.746111242, 0)):
            Rectangle(SKETCH_12_W, SKETCH_12_H)
    extrude(amount=-CUT_EXTRUDE_8_DEPTH, mode=Mode.SUBTRACT)

    # 圆角6
    fillet_6_edges = [part_1.edges().sort_by_distance(p)[0] for p in [
        (-85.5, 4, 1.5),
        (-85.5, -4, 1.5),
        (85.5, -4, 1.5),
        (85.5, 4, 1.5),
    ]]
    fillet(fillet_6_edges, radius=FILLET_6_R)

    # 圆角7
    fillet_7_edges = [part_1.edges().sort_by_distance(p)[0] for p in [
        (28.5, -46.350874392, 1.5),
        (10, -46.350874392, 1.5),
        (-10, -46.350874392, 1.5),
        (-28.5, -46.350874392, 1.5),
        (-28.5, -82.199452553, 1.5),
        (-10, -86.423376467, 1.5),
        (10, -86.423376467, 1.5),
        (28.5, -82.199452553, 1.5),
    ]]
    fillet(fillet_7_edges, radius=FILLET_7_R)

    # 打孔尺寸(%根据十字)槽沉头木螺钉的类型2
    with Locations(Plane(origin=(0, -49, 3), x_dir=(1, 0, 0), z_dir=(0, 0, 1))):
        with Locations((0, 0), (0, -29)):
            CounterSinkHole(HOLE_WIZARD_2_D / 2, HOLE_WIZARD_2_CSINK_D / 2, depth=HOLE_WIZARD_2_DEPTH, counter_sink_angle=HOLE_WIZARD_2_CSINK_ANGLE)
            with Locations((0, 0, -(HOLE_WIZARD_2_DEPTH + HOLE_WIZARD_2_TIP / 2))):  # 118° drill point
                Cone(0, HOLE_WIZARD_2_D / 2, HOLE_WIZARD_2_TIP, mode=Mode.SUBTRACT)

    # 打孔尺寸(%根据十字)槽沉头木螺钉的类型3
    with Locations(Plane(origin=(-6, -64.696867821, 3), x_dir=(1, 0, 0), z_dir=(0, 0, 1))):
        with Locations((0, 0), (12, 0)):
            CounterSinkHole(HOLE_WIZARD_3_D / 2, HOLE_WIZARD_3_CSINK_D / 2, depth=HOLE_WIZARD_3_DEPTH, counter_sink_angle=HOLE_WIZARD_3_CSINK_ANGLE)
            with Locations((0, 0, -(HOLE_WIZARD_3_DEPTH + HOLE_WIZARD_3_TIP / 2))):  # 118° drill point
                Cone(0, HOLE_WIZARD_3_D / 2, HOLE_WIZARD_3_TIP, mode=Mode.SUBTRACT)

    # 草图17 → 切除-拉伸10 (cut)
    with BuildSketch(Plane.XY.offset(3)):
        Polygon((-28.5, -84.313403442), (-28.5, -74.313403442), (-35.708850961, -81.522254403), align=None)
        Polygon((35.708850961, -81.522254403), (28.5, -84.313403442), (28.5, -74.313403442), align=None)
    extrude(amount=-CUT_EXTRUDE_10_DEPTH, mode=Mode.SUBTRACT)

    # 圆角8
    fillet_8_edges = [part_1.edges().sort_by_distance(p)[0] for p in [
        (-34.18780779, -80.001211232, 1.5),
        (-28.5, -74.313403442, 1.5),
        (34.18780779, -80.001211232, 1.5),
        (28.5, -74.313403442, 1.5),
    ]]
    fillet(fillet_8_edges, radius=FILLET_8_R)

    # Sketch1 → Extrude1 (cut)
    with BuildSketch(Plane.XY.offset(3)):
        with Locations((24.5, 35.484634583)):
            Circle(SKETCH1_R)
        with Locations((-24.5, 35.484634583)):
            Circle(SKETCH1_R)
    extrude(amount=-EXTRUDE1_DEPTH, mode=Mode.SUBTRACT)


solid = part_1.part
